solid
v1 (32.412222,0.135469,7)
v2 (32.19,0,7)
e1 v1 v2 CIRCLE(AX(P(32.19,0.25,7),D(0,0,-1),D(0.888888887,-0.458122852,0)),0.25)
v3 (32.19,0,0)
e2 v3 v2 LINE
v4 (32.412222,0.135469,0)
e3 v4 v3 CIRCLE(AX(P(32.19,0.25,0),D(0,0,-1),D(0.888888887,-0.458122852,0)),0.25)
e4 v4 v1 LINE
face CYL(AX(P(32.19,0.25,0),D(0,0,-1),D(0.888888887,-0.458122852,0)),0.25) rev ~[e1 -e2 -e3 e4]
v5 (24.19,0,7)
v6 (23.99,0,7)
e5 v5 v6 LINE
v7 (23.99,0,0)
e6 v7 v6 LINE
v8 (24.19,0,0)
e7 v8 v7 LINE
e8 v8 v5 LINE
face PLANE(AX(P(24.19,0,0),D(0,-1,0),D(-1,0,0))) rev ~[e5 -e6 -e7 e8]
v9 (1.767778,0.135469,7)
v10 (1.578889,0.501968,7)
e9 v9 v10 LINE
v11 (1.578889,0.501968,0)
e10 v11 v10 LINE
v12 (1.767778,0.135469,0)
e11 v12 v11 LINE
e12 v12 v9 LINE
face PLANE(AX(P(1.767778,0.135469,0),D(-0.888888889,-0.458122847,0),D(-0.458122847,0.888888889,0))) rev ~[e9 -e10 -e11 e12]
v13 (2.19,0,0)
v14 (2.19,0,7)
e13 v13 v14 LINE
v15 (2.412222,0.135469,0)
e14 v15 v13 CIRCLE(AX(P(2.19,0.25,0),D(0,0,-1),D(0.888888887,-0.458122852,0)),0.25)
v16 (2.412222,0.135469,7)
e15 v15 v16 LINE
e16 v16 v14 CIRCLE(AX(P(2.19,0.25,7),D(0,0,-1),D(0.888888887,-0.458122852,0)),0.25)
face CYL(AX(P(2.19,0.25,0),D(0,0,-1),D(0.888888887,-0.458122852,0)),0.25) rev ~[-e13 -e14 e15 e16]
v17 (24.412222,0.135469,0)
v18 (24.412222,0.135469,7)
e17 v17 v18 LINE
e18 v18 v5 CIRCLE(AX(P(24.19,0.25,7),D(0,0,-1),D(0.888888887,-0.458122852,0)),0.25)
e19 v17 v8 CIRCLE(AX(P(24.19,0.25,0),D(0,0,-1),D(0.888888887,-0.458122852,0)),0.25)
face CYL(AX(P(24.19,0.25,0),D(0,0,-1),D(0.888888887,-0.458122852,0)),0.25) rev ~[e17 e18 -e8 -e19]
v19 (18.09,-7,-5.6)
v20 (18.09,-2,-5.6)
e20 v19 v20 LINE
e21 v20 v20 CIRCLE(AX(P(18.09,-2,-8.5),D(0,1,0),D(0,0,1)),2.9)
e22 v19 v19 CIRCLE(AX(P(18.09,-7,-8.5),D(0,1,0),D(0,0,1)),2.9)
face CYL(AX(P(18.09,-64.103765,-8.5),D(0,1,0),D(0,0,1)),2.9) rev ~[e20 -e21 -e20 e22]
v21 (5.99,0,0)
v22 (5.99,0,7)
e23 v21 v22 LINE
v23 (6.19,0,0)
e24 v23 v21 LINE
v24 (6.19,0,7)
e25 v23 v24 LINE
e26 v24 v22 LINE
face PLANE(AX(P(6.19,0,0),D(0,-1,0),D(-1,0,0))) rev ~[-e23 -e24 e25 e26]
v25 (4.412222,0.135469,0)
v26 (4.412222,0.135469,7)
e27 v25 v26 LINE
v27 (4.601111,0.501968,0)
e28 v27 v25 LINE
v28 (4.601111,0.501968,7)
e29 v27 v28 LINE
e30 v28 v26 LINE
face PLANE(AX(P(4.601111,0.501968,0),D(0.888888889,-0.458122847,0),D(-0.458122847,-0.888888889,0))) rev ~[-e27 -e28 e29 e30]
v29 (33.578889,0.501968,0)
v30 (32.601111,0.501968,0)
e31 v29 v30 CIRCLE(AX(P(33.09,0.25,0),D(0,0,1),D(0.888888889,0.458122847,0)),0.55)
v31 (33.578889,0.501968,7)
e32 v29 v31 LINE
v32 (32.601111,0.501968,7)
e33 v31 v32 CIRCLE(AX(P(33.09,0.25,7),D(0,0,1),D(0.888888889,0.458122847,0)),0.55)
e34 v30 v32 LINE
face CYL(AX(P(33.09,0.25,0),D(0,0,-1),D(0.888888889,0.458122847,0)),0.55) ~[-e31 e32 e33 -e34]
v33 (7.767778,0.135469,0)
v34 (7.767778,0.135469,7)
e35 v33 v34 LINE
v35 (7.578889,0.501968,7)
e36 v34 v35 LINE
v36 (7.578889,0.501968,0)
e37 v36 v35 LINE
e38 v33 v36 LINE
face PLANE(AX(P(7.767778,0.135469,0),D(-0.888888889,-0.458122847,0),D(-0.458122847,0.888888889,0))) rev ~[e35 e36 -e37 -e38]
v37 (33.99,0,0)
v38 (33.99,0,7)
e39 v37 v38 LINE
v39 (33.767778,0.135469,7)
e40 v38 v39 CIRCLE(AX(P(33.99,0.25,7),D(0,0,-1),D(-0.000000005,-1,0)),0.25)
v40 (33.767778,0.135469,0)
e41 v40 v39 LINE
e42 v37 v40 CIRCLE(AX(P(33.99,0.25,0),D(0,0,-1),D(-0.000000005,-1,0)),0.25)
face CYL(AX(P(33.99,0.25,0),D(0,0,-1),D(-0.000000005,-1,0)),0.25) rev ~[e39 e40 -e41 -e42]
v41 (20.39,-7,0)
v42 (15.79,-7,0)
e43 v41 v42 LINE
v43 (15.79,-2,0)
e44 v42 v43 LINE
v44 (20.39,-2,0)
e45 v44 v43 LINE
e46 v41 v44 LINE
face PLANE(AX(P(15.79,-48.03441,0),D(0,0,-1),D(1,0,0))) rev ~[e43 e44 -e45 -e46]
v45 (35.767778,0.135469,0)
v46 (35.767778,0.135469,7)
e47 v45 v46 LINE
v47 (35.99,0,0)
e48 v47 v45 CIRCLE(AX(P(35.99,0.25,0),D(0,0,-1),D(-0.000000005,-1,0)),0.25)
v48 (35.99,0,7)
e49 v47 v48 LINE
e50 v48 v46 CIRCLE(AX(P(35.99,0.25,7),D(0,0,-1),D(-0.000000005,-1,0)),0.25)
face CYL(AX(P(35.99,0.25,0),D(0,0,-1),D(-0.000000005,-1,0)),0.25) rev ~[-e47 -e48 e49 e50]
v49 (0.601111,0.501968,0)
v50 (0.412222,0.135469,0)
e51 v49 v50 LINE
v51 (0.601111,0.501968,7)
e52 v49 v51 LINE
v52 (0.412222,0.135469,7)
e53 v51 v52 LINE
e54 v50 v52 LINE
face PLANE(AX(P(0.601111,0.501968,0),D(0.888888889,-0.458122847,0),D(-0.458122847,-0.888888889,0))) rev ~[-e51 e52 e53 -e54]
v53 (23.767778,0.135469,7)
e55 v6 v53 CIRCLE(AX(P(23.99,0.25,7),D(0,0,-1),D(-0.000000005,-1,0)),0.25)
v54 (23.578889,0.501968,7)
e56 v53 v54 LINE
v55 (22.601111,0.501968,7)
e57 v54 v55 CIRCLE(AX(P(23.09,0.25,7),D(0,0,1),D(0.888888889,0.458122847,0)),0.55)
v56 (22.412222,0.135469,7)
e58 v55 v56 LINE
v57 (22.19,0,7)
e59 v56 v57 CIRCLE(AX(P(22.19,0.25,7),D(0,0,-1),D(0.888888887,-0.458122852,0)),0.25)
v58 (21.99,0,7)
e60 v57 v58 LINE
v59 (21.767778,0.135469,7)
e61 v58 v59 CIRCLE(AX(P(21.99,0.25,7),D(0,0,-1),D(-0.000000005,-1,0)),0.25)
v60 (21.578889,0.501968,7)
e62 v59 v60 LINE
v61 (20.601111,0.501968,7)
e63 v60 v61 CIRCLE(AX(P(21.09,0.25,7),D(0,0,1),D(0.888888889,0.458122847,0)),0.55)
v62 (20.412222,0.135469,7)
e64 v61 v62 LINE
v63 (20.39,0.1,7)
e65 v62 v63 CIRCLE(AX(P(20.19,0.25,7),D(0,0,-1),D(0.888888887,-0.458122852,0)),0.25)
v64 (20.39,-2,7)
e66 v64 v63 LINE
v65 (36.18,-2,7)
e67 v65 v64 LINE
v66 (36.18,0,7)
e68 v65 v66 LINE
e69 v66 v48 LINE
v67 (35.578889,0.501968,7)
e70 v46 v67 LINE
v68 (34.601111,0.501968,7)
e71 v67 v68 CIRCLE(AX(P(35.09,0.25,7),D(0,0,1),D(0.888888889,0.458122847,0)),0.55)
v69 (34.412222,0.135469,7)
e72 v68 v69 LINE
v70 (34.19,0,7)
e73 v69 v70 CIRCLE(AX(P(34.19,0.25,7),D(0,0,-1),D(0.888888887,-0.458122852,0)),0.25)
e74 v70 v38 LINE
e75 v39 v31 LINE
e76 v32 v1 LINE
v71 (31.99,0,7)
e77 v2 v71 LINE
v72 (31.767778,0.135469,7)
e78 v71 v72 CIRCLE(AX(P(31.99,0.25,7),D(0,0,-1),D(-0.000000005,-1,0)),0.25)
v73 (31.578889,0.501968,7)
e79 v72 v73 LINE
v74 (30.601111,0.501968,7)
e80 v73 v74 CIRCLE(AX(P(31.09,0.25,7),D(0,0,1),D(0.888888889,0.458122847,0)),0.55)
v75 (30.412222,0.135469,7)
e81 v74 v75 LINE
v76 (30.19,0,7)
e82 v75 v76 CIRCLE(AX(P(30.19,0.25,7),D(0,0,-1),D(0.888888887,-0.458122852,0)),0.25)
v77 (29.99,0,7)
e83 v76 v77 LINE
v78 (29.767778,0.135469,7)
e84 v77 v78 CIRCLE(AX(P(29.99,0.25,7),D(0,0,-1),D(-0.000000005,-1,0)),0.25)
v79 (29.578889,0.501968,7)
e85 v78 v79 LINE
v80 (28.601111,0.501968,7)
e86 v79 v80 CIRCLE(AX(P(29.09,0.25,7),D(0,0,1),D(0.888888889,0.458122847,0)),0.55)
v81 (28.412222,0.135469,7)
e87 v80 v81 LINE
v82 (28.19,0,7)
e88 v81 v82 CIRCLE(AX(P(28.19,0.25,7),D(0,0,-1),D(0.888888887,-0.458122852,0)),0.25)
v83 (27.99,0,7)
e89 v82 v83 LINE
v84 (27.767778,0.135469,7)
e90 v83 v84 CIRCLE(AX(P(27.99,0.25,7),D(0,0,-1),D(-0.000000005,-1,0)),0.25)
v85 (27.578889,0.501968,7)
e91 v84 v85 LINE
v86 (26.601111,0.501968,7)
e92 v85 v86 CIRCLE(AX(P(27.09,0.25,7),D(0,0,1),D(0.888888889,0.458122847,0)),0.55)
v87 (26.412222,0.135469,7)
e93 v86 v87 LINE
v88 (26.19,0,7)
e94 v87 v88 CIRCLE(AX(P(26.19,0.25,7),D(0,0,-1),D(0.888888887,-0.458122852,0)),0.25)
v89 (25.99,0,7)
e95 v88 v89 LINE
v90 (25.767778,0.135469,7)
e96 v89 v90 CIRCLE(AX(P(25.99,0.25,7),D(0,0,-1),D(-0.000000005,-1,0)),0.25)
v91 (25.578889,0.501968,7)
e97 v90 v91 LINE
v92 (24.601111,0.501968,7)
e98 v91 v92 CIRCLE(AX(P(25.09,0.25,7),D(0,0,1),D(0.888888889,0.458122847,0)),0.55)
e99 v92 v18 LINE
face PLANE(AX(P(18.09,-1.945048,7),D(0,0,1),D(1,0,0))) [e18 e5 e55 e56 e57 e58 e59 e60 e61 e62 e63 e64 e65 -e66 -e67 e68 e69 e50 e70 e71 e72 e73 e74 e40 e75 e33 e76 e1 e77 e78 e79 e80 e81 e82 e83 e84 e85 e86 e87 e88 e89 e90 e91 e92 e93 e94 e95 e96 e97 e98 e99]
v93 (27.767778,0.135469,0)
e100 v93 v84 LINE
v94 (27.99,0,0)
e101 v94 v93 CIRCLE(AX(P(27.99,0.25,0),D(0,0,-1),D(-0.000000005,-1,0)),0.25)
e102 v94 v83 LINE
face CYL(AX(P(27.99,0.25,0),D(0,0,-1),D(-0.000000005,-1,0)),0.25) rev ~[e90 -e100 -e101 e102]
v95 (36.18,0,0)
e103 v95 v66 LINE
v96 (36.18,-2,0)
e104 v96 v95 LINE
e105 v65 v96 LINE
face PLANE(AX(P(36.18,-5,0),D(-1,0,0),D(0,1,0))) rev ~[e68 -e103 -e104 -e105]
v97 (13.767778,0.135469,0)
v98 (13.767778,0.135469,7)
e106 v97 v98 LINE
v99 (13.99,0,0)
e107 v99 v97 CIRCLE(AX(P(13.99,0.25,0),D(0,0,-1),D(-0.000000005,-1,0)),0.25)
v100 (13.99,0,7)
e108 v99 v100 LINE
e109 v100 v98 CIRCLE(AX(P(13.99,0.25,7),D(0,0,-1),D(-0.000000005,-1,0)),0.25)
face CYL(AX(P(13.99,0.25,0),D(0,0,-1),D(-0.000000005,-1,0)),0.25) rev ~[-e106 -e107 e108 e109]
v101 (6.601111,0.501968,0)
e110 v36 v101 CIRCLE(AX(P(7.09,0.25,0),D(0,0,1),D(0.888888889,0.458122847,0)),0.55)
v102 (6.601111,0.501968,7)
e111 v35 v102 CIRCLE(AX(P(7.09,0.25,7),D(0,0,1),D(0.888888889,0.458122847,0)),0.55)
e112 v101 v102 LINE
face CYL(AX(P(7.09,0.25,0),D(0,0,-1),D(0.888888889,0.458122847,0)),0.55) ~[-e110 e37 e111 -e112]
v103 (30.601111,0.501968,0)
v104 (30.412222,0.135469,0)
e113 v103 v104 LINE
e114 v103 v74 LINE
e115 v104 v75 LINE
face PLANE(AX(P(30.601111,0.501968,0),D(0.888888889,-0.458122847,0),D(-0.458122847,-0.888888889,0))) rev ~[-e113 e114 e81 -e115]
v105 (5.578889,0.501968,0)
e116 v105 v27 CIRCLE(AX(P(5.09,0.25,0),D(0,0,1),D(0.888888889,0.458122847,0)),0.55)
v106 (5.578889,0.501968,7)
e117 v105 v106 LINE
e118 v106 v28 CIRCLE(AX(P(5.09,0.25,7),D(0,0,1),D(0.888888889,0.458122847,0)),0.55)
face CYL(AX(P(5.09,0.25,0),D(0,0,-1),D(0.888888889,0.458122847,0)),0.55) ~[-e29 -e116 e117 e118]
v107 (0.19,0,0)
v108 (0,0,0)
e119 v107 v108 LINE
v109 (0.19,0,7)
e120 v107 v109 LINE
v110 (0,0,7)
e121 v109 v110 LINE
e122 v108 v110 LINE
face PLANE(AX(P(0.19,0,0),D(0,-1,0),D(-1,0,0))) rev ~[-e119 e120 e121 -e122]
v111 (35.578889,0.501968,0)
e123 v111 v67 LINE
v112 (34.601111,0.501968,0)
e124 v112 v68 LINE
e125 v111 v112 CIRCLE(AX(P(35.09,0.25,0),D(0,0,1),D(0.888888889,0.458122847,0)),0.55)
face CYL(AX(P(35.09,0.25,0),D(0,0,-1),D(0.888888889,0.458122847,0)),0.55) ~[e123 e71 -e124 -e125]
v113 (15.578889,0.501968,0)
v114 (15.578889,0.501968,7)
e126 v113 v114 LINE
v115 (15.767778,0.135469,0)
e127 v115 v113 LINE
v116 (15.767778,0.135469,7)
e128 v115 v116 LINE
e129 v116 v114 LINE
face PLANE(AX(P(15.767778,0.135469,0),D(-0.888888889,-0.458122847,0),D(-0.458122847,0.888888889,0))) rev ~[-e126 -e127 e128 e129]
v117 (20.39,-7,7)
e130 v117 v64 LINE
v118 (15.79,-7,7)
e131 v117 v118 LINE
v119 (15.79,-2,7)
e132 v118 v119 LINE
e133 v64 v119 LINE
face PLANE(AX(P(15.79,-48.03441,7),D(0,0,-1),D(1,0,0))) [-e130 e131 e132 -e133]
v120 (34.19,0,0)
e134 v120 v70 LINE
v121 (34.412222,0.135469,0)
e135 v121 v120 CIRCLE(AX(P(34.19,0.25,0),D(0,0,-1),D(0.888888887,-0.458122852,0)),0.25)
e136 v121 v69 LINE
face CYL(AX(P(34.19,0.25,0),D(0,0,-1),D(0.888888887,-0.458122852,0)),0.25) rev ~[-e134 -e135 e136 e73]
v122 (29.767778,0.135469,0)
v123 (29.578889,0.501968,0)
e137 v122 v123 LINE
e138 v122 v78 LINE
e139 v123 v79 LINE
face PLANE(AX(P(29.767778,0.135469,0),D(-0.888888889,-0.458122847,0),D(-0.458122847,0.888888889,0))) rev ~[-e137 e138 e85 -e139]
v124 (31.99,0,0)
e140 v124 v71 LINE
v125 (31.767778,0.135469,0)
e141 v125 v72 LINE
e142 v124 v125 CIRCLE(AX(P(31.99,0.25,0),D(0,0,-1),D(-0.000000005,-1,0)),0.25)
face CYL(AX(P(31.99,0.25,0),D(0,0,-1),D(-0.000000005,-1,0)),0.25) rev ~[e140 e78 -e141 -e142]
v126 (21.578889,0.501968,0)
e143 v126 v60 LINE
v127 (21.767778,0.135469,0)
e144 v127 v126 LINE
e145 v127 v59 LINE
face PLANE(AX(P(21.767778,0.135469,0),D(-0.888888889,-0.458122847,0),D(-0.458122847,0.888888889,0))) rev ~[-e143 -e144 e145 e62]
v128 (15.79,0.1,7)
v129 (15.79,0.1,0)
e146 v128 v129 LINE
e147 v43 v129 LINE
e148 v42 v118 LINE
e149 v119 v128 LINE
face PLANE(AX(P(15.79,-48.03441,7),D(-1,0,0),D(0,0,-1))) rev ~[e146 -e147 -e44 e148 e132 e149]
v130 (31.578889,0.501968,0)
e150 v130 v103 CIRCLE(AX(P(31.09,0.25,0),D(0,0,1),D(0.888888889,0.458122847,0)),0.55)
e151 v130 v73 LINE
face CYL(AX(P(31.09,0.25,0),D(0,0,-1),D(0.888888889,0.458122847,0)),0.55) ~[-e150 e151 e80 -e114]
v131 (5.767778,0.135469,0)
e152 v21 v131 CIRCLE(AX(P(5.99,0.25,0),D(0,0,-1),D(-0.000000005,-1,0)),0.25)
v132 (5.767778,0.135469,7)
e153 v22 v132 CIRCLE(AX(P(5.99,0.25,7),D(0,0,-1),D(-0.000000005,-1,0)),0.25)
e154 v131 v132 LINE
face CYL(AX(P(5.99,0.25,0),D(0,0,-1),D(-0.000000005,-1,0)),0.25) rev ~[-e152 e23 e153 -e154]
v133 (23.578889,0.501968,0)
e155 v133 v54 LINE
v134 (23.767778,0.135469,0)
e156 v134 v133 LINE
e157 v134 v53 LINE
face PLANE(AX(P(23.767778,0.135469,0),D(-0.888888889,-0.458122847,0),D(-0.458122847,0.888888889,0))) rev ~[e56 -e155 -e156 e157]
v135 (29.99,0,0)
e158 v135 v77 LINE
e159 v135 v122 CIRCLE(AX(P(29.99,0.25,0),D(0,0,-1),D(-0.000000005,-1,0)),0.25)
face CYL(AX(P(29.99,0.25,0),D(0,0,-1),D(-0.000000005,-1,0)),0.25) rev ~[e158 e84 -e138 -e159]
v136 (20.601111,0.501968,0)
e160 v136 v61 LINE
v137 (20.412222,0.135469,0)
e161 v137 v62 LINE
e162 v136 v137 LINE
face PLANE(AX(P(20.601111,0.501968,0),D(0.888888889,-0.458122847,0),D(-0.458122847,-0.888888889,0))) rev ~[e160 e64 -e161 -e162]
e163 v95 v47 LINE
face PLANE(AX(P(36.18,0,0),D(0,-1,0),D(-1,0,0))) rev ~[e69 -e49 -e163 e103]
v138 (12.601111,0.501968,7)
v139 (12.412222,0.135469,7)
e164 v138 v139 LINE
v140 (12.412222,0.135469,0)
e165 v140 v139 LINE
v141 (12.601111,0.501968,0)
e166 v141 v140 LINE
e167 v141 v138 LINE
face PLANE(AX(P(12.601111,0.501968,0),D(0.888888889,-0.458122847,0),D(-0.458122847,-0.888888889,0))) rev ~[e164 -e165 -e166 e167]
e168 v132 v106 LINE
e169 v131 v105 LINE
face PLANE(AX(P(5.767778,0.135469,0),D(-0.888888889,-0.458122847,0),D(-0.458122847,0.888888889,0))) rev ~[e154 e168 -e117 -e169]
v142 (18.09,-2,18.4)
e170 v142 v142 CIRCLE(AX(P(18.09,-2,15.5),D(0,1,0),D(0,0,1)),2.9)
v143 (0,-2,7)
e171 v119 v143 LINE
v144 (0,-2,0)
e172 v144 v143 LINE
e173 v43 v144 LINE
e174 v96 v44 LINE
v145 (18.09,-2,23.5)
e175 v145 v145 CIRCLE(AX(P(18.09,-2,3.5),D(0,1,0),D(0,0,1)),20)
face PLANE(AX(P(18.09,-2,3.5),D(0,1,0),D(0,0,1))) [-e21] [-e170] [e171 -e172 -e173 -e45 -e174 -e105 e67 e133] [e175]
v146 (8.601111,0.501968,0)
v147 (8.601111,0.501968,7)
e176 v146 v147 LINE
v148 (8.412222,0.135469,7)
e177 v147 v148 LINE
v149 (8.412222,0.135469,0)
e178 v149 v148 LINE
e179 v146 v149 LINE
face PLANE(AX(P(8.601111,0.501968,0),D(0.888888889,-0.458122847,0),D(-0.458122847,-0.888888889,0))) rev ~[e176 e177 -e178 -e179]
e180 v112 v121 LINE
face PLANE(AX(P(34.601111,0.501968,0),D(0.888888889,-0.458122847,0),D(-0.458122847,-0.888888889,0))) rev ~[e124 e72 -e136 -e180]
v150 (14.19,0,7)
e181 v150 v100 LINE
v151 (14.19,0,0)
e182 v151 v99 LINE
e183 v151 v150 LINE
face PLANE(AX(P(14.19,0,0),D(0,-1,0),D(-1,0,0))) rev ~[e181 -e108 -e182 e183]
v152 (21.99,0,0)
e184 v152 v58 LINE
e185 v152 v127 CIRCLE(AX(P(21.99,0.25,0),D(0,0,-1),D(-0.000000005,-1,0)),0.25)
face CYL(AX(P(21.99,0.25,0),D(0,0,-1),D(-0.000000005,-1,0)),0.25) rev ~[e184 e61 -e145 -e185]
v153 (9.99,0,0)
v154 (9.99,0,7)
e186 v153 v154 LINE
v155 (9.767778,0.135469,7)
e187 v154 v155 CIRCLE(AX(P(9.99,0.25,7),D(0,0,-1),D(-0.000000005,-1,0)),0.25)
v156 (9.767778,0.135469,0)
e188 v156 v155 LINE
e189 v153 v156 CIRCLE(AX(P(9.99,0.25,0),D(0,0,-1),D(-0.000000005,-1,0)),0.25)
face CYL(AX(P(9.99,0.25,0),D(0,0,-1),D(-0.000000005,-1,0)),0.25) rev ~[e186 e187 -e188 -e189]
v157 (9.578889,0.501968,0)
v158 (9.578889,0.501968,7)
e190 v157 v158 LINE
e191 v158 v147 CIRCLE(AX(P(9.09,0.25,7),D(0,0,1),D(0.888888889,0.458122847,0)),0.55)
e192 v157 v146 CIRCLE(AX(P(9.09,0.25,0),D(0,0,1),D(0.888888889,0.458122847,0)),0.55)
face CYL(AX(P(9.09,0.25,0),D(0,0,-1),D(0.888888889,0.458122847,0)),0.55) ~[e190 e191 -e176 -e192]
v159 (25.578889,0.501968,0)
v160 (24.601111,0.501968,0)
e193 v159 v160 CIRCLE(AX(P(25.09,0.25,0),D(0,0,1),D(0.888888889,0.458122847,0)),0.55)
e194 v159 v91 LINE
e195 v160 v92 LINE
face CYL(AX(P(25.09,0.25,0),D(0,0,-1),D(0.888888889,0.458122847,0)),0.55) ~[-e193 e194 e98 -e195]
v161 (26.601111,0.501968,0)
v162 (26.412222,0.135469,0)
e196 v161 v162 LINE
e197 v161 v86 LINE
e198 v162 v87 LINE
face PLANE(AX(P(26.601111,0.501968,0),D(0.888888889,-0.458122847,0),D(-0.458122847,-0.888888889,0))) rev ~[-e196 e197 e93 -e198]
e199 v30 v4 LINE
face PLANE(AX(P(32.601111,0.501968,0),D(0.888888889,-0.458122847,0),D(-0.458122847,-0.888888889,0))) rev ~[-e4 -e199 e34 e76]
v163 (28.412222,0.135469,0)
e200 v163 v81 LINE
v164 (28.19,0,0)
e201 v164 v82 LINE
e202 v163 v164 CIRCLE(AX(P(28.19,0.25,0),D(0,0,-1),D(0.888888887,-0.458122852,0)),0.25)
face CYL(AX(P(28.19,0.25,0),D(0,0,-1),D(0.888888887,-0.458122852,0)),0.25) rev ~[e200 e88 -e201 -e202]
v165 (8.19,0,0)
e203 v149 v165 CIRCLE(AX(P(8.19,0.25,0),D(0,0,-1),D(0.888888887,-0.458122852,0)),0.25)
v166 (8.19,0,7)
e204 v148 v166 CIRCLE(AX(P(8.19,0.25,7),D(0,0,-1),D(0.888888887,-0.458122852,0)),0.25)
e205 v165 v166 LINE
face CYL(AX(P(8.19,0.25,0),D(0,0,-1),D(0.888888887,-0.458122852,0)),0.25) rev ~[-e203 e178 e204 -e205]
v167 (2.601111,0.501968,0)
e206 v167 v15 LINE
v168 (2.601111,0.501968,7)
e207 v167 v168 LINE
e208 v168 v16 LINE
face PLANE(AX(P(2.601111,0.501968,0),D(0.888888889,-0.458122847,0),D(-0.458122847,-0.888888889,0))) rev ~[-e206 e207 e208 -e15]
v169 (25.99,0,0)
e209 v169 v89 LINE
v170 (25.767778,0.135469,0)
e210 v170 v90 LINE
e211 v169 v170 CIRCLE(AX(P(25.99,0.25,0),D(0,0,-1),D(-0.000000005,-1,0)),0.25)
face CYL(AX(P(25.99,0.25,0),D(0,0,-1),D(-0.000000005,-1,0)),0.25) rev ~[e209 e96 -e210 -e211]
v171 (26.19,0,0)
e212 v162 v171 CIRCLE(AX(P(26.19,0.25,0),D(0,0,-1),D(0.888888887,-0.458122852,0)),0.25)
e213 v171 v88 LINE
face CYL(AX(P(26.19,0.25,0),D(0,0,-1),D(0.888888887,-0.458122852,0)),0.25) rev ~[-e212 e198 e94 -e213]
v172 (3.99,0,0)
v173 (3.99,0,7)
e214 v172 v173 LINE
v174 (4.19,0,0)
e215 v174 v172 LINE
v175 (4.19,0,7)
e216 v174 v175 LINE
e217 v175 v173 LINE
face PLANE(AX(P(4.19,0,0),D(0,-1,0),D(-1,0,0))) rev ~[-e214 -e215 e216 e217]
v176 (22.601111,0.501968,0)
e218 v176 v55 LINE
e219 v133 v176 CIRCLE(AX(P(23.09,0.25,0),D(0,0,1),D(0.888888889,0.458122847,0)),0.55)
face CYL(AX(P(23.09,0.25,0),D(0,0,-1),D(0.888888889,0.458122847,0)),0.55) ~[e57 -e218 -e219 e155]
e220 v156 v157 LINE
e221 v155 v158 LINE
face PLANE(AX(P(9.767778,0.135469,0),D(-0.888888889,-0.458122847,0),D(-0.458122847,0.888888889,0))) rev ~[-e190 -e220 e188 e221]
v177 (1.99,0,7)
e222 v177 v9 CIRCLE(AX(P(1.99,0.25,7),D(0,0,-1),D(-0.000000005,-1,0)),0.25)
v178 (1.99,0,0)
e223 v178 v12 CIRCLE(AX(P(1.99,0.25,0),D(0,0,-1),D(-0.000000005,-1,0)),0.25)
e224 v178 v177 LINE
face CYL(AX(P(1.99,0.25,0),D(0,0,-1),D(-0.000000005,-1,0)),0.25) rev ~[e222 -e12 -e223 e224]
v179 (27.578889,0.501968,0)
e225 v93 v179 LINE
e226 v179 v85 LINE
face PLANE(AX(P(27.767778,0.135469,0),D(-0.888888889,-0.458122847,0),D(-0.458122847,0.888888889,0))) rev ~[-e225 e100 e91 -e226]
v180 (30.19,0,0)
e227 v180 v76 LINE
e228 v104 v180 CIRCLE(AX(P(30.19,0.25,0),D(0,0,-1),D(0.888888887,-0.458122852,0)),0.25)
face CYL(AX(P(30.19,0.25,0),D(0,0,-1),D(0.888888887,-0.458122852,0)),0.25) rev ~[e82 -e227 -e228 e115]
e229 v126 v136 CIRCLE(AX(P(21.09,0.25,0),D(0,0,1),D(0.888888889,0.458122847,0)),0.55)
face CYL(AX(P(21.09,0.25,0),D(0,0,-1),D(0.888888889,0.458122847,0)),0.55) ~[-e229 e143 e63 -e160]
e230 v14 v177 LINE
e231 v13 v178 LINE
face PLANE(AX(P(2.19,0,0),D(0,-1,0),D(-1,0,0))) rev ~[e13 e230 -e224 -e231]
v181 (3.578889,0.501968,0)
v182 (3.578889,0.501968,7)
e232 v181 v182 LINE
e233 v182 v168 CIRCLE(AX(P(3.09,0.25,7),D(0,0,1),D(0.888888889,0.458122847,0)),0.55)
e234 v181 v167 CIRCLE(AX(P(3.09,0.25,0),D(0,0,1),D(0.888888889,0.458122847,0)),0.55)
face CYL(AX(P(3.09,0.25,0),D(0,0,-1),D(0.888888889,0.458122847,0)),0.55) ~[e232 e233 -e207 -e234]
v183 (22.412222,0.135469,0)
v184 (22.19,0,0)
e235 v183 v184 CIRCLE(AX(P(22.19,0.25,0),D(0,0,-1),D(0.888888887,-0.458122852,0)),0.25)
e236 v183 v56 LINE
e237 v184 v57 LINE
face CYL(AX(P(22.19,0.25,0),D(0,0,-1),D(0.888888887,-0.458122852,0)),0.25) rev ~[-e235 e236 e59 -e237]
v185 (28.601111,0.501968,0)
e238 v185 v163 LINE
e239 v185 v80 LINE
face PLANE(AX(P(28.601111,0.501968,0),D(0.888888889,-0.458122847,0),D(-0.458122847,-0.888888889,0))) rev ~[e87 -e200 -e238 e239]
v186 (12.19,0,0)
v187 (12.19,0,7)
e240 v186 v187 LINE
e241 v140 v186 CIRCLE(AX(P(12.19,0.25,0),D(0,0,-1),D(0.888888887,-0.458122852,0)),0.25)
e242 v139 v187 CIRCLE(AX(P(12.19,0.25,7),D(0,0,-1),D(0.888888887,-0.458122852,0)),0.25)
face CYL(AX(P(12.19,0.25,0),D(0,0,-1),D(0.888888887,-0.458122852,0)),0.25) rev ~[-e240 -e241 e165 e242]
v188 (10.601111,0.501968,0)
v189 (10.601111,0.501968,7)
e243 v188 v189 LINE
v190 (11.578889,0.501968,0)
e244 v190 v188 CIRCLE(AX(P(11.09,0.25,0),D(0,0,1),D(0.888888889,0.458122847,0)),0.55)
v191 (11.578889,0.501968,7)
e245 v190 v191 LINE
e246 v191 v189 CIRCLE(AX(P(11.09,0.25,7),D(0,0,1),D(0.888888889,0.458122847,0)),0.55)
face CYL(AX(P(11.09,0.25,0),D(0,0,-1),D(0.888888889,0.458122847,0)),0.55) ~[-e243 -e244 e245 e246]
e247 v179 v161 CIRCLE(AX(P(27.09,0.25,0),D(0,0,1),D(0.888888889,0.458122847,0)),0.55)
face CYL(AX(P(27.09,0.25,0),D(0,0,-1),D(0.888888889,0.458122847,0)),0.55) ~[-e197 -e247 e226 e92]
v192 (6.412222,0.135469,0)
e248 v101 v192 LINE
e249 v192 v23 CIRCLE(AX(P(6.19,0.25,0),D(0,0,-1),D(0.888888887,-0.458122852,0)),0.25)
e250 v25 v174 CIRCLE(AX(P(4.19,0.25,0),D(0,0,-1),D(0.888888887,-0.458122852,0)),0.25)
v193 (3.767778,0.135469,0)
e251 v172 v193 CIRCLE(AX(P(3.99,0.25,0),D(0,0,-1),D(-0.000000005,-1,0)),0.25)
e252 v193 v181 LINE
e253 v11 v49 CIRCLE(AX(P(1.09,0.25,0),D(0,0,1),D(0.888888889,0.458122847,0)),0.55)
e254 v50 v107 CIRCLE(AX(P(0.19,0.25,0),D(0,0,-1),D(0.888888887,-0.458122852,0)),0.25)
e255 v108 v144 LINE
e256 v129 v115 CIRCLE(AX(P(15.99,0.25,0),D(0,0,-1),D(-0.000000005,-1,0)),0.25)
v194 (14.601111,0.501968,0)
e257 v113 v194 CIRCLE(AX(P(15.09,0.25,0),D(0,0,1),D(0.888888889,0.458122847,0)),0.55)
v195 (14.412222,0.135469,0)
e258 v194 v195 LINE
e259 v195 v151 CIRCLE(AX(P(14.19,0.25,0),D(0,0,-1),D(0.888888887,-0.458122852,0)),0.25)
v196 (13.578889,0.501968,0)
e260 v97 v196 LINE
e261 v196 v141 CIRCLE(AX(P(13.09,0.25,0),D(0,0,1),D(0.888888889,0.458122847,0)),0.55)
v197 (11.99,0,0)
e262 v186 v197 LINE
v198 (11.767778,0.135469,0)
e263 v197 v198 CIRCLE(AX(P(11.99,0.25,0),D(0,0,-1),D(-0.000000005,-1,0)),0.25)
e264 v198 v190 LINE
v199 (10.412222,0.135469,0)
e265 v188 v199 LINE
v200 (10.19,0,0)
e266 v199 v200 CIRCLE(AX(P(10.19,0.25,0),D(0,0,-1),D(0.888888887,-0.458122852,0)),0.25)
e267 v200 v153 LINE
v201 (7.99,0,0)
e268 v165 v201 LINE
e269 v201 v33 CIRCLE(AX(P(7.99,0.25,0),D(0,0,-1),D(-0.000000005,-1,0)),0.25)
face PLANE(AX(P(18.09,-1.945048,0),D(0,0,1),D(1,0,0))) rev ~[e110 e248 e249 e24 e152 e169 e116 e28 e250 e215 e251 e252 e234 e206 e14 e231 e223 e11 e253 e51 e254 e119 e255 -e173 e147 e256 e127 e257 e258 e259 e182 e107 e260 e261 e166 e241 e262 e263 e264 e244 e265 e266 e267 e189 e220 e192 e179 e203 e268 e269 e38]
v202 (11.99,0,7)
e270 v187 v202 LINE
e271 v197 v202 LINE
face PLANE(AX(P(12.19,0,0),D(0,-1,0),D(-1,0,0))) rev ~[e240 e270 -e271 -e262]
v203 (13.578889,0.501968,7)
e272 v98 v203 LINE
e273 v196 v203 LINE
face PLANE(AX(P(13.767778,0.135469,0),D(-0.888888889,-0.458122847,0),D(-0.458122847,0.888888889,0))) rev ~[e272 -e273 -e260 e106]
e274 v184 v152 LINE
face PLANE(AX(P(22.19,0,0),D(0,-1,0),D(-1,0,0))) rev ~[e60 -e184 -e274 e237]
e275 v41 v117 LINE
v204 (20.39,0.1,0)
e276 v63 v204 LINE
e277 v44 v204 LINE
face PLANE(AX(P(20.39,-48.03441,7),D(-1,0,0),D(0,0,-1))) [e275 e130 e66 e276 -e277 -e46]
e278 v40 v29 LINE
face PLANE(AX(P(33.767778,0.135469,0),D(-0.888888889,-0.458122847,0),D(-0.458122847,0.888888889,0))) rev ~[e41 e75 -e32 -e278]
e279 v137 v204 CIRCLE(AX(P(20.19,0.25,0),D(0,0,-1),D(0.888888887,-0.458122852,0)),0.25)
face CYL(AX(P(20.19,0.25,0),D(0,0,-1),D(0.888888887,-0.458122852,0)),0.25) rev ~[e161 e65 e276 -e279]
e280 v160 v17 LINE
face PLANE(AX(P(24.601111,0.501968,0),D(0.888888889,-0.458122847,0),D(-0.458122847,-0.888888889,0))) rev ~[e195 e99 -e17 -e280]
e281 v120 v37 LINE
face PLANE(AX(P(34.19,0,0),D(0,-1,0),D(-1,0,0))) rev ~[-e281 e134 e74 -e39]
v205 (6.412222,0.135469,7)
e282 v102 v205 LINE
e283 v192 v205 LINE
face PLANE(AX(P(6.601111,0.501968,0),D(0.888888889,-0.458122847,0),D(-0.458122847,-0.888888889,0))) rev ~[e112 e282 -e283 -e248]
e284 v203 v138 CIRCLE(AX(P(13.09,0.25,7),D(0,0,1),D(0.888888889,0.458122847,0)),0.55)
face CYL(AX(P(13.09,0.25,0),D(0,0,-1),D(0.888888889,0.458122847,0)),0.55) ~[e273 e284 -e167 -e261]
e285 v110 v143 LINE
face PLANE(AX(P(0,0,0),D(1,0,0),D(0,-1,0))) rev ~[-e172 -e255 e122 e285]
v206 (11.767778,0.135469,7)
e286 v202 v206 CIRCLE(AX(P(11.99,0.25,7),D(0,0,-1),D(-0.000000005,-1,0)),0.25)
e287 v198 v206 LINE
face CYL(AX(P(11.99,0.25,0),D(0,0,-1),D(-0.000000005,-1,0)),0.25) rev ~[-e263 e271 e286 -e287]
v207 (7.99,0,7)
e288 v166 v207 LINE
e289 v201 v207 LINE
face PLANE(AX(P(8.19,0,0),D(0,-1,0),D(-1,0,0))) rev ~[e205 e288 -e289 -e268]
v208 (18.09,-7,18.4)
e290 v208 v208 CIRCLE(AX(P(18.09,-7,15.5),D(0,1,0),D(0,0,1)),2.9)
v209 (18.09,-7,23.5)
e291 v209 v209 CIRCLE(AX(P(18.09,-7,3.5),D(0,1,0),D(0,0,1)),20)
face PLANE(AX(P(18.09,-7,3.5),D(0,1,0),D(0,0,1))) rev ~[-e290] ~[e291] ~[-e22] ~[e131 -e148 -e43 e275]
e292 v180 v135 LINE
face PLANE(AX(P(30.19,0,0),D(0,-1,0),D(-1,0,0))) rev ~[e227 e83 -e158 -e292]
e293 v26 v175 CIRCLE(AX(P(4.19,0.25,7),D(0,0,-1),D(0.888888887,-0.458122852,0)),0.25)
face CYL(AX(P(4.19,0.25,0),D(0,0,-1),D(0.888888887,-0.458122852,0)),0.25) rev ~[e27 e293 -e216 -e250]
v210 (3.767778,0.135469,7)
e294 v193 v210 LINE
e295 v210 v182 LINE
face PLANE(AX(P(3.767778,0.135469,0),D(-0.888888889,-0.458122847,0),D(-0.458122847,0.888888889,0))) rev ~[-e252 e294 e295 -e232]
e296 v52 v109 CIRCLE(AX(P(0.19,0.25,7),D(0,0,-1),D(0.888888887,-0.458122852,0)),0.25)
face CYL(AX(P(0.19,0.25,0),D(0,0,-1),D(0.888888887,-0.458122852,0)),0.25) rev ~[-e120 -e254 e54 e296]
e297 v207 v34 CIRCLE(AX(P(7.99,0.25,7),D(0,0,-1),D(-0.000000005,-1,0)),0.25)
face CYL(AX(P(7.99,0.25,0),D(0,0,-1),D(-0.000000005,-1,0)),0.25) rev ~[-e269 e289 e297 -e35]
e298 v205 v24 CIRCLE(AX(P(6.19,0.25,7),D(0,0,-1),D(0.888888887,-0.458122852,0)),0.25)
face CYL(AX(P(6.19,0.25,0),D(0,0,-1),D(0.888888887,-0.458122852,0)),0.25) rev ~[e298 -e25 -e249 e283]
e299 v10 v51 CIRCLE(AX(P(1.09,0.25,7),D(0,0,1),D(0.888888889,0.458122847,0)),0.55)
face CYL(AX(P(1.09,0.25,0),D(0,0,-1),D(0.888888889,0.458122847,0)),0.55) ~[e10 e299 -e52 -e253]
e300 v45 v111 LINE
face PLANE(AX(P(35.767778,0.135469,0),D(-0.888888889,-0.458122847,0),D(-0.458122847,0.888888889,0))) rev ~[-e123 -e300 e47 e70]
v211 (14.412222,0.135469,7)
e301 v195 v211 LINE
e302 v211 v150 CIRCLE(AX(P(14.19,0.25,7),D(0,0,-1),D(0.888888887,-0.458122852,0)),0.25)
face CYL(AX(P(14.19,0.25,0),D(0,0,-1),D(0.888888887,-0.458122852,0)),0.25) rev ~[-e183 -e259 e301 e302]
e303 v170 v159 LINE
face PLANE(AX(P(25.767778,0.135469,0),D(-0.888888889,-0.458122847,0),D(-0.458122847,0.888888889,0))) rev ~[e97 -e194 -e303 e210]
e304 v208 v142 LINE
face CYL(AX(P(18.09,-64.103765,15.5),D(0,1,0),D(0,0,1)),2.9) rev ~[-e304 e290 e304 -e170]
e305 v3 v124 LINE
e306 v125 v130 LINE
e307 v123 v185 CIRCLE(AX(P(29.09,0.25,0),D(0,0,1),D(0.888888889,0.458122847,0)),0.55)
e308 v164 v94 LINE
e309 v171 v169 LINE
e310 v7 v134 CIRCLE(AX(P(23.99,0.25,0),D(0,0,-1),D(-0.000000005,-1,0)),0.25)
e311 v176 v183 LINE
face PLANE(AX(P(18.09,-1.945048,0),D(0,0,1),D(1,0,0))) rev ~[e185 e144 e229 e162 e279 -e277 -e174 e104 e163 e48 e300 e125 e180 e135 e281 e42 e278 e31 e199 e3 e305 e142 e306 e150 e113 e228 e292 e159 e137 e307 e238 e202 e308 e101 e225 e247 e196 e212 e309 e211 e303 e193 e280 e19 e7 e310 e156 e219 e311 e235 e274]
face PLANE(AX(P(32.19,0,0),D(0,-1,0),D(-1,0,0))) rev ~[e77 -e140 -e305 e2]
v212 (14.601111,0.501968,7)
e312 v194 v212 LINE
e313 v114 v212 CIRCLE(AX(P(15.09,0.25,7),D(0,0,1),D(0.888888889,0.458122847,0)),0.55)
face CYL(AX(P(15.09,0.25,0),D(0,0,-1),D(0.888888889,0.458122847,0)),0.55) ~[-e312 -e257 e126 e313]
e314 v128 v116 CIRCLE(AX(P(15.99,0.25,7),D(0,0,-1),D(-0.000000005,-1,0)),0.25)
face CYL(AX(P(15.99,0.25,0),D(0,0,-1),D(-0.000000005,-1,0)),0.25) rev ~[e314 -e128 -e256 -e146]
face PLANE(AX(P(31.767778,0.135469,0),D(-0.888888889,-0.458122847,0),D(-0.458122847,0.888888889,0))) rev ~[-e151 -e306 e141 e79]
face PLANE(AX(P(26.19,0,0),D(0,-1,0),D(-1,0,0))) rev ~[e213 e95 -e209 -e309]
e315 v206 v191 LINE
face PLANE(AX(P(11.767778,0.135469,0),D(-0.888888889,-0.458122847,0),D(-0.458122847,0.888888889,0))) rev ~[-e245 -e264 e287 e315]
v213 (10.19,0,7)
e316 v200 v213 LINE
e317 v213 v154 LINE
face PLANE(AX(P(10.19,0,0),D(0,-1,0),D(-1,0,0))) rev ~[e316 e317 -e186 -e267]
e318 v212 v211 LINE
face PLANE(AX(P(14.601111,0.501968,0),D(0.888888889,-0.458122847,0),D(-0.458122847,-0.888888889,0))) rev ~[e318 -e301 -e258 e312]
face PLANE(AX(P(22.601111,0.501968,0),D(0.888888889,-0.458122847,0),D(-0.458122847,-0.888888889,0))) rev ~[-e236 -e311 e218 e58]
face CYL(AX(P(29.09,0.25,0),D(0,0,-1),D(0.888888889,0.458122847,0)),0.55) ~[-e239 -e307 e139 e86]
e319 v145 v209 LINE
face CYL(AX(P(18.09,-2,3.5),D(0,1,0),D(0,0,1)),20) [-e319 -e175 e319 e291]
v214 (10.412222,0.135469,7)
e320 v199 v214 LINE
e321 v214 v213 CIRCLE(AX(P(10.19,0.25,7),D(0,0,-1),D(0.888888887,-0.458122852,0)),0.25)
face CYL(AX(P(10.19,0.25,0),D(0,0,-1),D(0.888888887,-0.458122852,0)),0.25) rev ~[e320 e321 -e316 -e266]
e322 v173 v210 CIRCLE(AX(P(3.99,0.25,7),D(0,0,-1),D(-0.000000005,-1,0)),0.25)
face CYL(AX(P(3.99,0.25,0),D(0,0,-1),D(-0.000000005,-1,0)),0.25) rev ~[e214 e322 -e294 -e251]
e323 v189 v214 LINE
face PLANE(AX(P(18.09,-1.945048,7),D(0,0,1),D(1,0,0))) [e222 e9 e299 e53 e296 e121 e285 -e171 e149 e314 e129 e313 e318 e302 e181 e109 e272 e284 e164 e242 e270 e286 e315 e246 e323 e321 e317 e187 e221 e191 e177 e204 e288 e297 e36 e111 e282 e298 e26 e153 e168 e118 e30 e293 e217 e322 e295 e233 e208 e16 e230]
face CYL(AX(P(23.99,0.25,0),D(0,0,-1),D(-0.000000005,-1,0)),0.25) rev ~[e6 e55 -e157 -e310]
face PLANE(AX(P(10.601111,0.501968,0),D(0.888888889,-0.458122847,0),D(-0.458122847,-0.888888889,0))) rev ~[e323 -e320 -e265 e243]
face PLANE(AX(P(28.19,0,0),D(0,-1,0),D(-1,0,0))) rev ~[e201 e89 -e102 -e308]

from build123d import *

# Parameters (mm, degrees)
BOSS_EXTRUDE1_DEPTH     = 7
BOSS_EXTRUDE2_START     = -2
SKETCH2_R               = 20
BOSS_EXTRUDE2_DEPTH     = 5
CUT_EXTRUDE2_DEPTH      = 46.034410177
CUT_EXTRUDE2_DEPTH_BACK = 46.034410177
SKETCH4_W               = 4.6
SKETCH4_H               = 7
M5_CLEARANCE_HOLE1_D    = 5.8


with BuildPart() as part:
    # Sketch1 → Boss-Extrude1 (new body)
    with BuildSketch(Plane.XY):
        with BuildLine():
            Line((3.767777778, 0.135469288), (3.578888889, 0.501967566))
            ThreePointArc((3.578888889, 0.501967566), (3.09, 0.8), (2.601111111, 0.501967566))
            Line((2.601111111, 0.501967566), (2.412222222, 0.135469288))
            ThreePointArc((2.412222222, 0.135469288), (2.320129401, 0.036537266), (2.19, 0))
            Line((2.19, 0), (2.18, 0))
            Line((2.18, 0), (2, 0))
            Line((2, 0), (1.99, 0))
            ThreePointArc((1.99, 0), (1.859870599, 0.036537266), (1.767777778, 0.135469288))
            Line((1.767777778, 0.135469288), (1.578888889, 0.501967566))
            ThreePointArc((1.578888889, 0.501967566), (1.09, 0.8), (0.601111111, 0.501967566))
            Line((0.601111111, 0.501967566), (0.412222222, 0.135469288))
            ThreePointArc((0.412222222, 0.135469288), (0.320129401, 0.036537266), (0.19, 0))
            Line((0.19, 0), (0, 0))
            Line((0, 0), (0, -5))
            Line((0, -5), (36.18, -5))
            Line((36.18, -5), (36.18, 0))
            Line((36.18, 0), (35.99, 0))
            ThreePointArc((35.99, 0), (35.859870599, 0.036537266), (35.767777778, 0.135469288))
            Line((35.767777778, 0.135469288), (35.578888889, 0.501967566))
            ThreePointArc((35.578888889, 0.501967566), (35.09, 0.8), (34.601111111, 0.501967566))
            Line((34.601111111, 0.501967566), (34.412222222, 0.135469288))
            ThreePointArc((34.412222222, 0.135469288), (34.320129401, 0.036537266), (34.19, 0))
            Line((34.19, 0), (34.18, 0))
            Line((34.18, 0), (34, 0))
            Line((34, 0), (33.99, 0))
            ThreePointArc((33.99, 0), (33.859870599, 0.036537266), (33.767777778, 0.135469288))
            Line((33.767777778, 0.135469288), (33.578888889, 0.501967566))
            ThreePointArc((33.578888889, 0.501967566), (33.09, 0.8), (32.601111111, 0.501967566))
            Line((32.601111111, 0.501967566), (32.412222222, 0.135469288))
            ThreePointArc((32.412222222, 0.135469288), (32.320129401, 0.036537266), (32.19, 0))
            Line((32.19, 0), (32.18, 0))
            Line((32.18, 0), (32, 0))
            Line((32, 0), (31.99, 0))
            ThreePointArc((31.99, 0), (31.859870599, 0.036537266), (31.767777778, 0.135469288))
            Line((31.767777778, 0.135469288), (31.578888889, 0.501967566))
            ThreePointArc((31.578888889, 0.501967566), (31.09, 0.8), (30.601111111, 0.501967566))
            Line((30.601111111, 0.501967566), (30.412222222, 0.135469288))
            ThreePointArc((30.412222222, 0.135469288), (30.320129401, 0.036537266), (30.19, 0))
            Line((30.19, 0), (30.18, 0))
            Line((30.18, 0), (30, 0))
            Line((30, 0), (29.99, 0))
            ThreePointArc((29.99, 0), (29.859870599, 0.036537266), (29.767777778, 0.135469288))
            Line((29.767777778, 0.135469288), (29.578888889, 0.501967566))
            ThreePointArc((29.578888889, 0.501967566), (29.09, 0.8), (28.601111111, 0.501967566))
            Line((28.601111111, 0.501967566), (28.412222222, 0.135469288))
            ThreePointArc((28.412222222, 0.135469288), (28.320129401, 0.036537266), (28.19, 0))
            Line((28.19, 0), (28.18, 0))
            Line((28.18, 0), (28, 0))
            Line((28, 0), (27.99, 0))
            ThreePointArc((27.99, 0), (27.859870599, 0.036537266), (27.767777778, 0.135469288))
            Line((27.767777778, 0.135469288), (27.578888889, 0.501967566))
            ThreePointArc((27.578888889, 0.501967566), (27.09, 0.8), (26.601111111, 0.501967566))
            Line((26.601111111, 0.501967566), (26.412222222, 0.135469288))
            ThreePointArc((26.412222222, 0.135469288), (26.320129401, 0.036537266), (26.19, 0))
            Line((26.19, 0), (26.18, 0))
            Line((26.18, 0), (26, 0))
            Line((26, 0), (25.99, 0))
            ThreePointArc((25.99, 0), (25.859870599, 0.036537266), (25.767777778, 0.135469288))
            Line((25.767777778, 0.135469288), (25.578888889, 0.501967566))
            ThreePointArc((25.578888889, 0.501967566), (25.09, 0.8), (24.601111111, 0.501967566))
            Line((24.601111111, 0.501967566), (24.412222222, 0.135469288))
            ThreePointArc((24.412222222, 0.135469288), (24.320129401, 0.036537266), (24.19, 0))
            Line((24.19, 0), (24.18, 0))
            Line((24.18, 0), (24, 0))
            Line((24, 0), (23.99, 0))
            ThreePointArc((23.99, 0), (23.859870599, 0.036537266), (23.767777778, 0.135469288))
            Line((23.767777778, 0.135469288), (23.578888889, 0.501967566))
            ThreePointArc((23.578888889, 0.501967566), (23.09, 0.8), (22.601111111, 0.501967566))
            Line((22.601111111, 0.501967566), (22.412222222, 0.135469288))
            ThreePointArc((22.412222222, 0.135469288), (22.320129401, 0.036537266), (22.19, 0))
            Line((22.19, 0), (22.18, 0))
            Line((22.18, 0), (22, 0))
            Line((22, 0), (21.99, 0))
            ThreePointArc((21.99, 0), (21.859870599, 0.036537266), (21.767777778, 0.135469288))
            Line((21.767777778, 0.135469288), (21.578888889, 0.501967566))
            ThreePointArc((21.578888889, 0.501967566), (21.09, 0.8), (20.601111111, 0.501967566))
            Line((20.601111111, 0.501967566), (20.412222222, 0.135469288))
            ThreePointArc((20.412222222, 0.135469288), (20.320129401, 0.036537266), (20.19, 0))
            Line((20.19, 0), (20.18, 0))
            Line((20.18, 0), (20, 0))
            Line((20, 0), (19.99, 0))
            ThreePointArc((19.99, 0), (19.859870599, 0.036537266), (19.767777778, 0.135469288))
            Line((19.767777778, 0.135469288), (19.578888889, 0.501967566))
            ThreePointArc((19.578888889, 0.501967566), (19.09, 0.8), (18.601111111, 0.501967566))
            Line((18.601111111, 0.501967566), (18.412222222, 0.135469288))
            ThreePointArc((18.412222222, 0.135469288), (18.320129401, 0.036537266), (18.19, 0))
            Line((18.19, 0), (18.18, 0))
            Line((18.18, 0), (18, 0))
            Line((18, 0), (17.99, 0))
            ThreePointArc((17.99, 0), (17.859870599, 0.036537266), (17.767777778, 0.135469288))
            Line((17.767777778, 0.135469288), (17.578888889, 0.501967566))
            ThreePointArc((17.578888889, 0.501967566), (17.09, 0.8), (16.601111111, 0.501967566))
            Line((16.601111111, 0.501967566), (16.412222222, 0.135469288))
            ThreePointArc((16.412222222, 0.135469288), (16.320129401, 0.036537266), (16.19, 0))
            Line((16.19, 0), (16.18, 0))
            Line((16.18, 0), (16, 0))
            Line((16, 0), (15.99, 0))
            ThreePointArc((15.99, 0), (15.859870599, 0.036537266), (15.767777778, 0.135469288))
            Line((15.767777778, 0.135469288), (15.578888889, 0.501967566))
            ThreePointArc((15.578888889, 0.501967566), (15.09, 0.8), (14.601111111, 0.501967566))
            Line((14.601111111, 0.501967566), (14.412222222, 0.135469288))
            ThreePointArc((14.412222222, 0.135469288), (14.320129401, 0.036537266), (14.19, 0))
            Line((14.19, 0), (14.18, 0))
            Line((14.18, 0), (14, 0))
            Line((14, 0), (13.99, 0))
            ThreePointArc((13.99, 0), (13.859870599, 0.036537266), (13.767777778, 0.135469288))
            Line((13.767777778, 0.135469288), (13.578888889, 0.501967566))
            ThreePointArc((13.578888889, 0.501967566), (13.09, 0.8), (12.601111111, 0.501967566))
            Line((12.601111111, 0.501967566), (12.412222222, 0.135469288))
            ThreePointArc((12.412222222, 0.135469288), (12.320129401, 0.036537266), (12.19, 0))
            Line((12.19, 0), (12.18, 0))
            Line((12.18, 0), (12, 0))
            Line((12, 0), (11.99, 0))
            ThreePointArc((11.99, 0), (11.859870599, 0.036537266), (11.767777778, 0.135469288))
            Line((11.767777778, 0.135469288), (11.578888889, 0.501967566))
            ThreePointArc((11.578888889, 0.501967566), (11.09, 0.8), (10.601111111, 0.501967566))
            Line((10.601111111, 0.501967566), (10.412222222, 0.135469288))
            ThreePointArc((10.412222222, 0.135469288), (10.320129401, 0.036537266), (10.19, 0))
            Line((10.19, 0), (10.18, 0))
            Line((10.18, 0), (10, 0))
            Line((10, 0), (9.99, 0))
            ThreePointArc((9.99, 0), (9.859870599, 0.036537266), (9.767777778, 0.135469288))
            Line((9.767777778, 0.135469288), (9.578888889, 0.501967566))
            ThreePointArc((9.578888889, 0.501967566), (9.09, 0.8), (8.601111111, 0.501967566))
            Line((8.601111111, 0.501967566), (8.412222222, 0.135469288))
            ThreePointArc((8.412222222, 0.135469288), (8.320129401, 0.036537266), (8.19, 0))
            Line((8.19, 0), (8.18, 0))
            Line((8.18, 0), (8, 0))
            Line((8, 0), (7.99, 0))
            ThreePointArc((7.99, 0), (7.859870599, 0.036537266), (7.767777778, 0.135469288))
            Line((7.767777778, 0.135469288), (7.578888889, 0.501967566))
            ThreePointArc((7.578888889, 0.501967566), (7.09, 0.8), (6.601111111, 0.501967566))
            Line((6.601111111, 0.501967566), (6.412222222, 0.135469288))
            ThreePointArc((6.412222222, 0.135469288), (6.320129401, 0.036537266), (6.19, 0))
            Line((6.19, 0), (6.18, 0))
            Line((6.18, 0), (6, 0))
            Line((6, 0), (5.99, 0))
            ThreePointArc((5.99, 0), (5.859870599, 0.036537266), (5.767777778, 0.135469288))
            Line((5.767777778, 0.135469288), (5.578888889, 0.501967566))
            ThreePointArc((5.578888889, 0.501967566), (5.09, 0.8), (4.601111111, 0.501967566))
            Line((4.601111111, 0.501967566), (4.412222222, 0.135469288))
            ThreePointArc((4.412222222, 0.135469288), (4.320129401, 0.036537266), (4.19, 0))
            Line((4.19, 0), (4.18, 0))
            Line((4.18, 0), (4, 0))
            Line((4, 0), (3.99, 0))
            ThreePointArc((3.99, 0), (3.859870599, 0.036537266), (3.767777778, 0.135469288))
        make_face()
    extrude(amount=BOSS_EXTRUDE1_DEPTH)

    # Sketch2 → Boss-Extrude2 (add)
    with BuildSketch(Plane(origin=(0, 0, 0), x_dir=(1, 0, 0), z_dir=(0, 1, 0)).offset(BOSS_EXTRUDE2_START)):
        with Locations(Location((18.09, -3.5, 0), (0, 0, 270))):
            Circle(SKETCH2_R)
    extrude(amount=-BOSS_EXTRUDE2_DEPTH)

    # Sketch4 → Cut-Extrude2 (cut, two sides: drawn at the far end of the back side and taken through both)
    with BuildSketch(Plane(origin=(0, -2, 0), x_dir=(1, 0, 0), z_dir=(0, 1, 0)).offset(-CUT_EXTRUDE2_DEPTH_BACK)):
        with Locations((18.09, -3.5)):
            Rectangle(SKETCH4_W, SKETCH4_H)
    extrude(amount=CUT_EXTRUDE2_DEPTH + CUT_EXTRUDE2_DEPTH_BACK, mode=Mode.SUBTRACT)

    # M5 Clearance Hole1 (through all)
    with Locations(Plane(origin=(18.09, -7, 15.5), x_dir=(0, 0, -1), z_dir=(0, -1, 0))):
        with Locations((0, 0), (24, 0)):
            Hole(M5_CLEARANCE_HOLE1_D / 2)


solid = part.part
